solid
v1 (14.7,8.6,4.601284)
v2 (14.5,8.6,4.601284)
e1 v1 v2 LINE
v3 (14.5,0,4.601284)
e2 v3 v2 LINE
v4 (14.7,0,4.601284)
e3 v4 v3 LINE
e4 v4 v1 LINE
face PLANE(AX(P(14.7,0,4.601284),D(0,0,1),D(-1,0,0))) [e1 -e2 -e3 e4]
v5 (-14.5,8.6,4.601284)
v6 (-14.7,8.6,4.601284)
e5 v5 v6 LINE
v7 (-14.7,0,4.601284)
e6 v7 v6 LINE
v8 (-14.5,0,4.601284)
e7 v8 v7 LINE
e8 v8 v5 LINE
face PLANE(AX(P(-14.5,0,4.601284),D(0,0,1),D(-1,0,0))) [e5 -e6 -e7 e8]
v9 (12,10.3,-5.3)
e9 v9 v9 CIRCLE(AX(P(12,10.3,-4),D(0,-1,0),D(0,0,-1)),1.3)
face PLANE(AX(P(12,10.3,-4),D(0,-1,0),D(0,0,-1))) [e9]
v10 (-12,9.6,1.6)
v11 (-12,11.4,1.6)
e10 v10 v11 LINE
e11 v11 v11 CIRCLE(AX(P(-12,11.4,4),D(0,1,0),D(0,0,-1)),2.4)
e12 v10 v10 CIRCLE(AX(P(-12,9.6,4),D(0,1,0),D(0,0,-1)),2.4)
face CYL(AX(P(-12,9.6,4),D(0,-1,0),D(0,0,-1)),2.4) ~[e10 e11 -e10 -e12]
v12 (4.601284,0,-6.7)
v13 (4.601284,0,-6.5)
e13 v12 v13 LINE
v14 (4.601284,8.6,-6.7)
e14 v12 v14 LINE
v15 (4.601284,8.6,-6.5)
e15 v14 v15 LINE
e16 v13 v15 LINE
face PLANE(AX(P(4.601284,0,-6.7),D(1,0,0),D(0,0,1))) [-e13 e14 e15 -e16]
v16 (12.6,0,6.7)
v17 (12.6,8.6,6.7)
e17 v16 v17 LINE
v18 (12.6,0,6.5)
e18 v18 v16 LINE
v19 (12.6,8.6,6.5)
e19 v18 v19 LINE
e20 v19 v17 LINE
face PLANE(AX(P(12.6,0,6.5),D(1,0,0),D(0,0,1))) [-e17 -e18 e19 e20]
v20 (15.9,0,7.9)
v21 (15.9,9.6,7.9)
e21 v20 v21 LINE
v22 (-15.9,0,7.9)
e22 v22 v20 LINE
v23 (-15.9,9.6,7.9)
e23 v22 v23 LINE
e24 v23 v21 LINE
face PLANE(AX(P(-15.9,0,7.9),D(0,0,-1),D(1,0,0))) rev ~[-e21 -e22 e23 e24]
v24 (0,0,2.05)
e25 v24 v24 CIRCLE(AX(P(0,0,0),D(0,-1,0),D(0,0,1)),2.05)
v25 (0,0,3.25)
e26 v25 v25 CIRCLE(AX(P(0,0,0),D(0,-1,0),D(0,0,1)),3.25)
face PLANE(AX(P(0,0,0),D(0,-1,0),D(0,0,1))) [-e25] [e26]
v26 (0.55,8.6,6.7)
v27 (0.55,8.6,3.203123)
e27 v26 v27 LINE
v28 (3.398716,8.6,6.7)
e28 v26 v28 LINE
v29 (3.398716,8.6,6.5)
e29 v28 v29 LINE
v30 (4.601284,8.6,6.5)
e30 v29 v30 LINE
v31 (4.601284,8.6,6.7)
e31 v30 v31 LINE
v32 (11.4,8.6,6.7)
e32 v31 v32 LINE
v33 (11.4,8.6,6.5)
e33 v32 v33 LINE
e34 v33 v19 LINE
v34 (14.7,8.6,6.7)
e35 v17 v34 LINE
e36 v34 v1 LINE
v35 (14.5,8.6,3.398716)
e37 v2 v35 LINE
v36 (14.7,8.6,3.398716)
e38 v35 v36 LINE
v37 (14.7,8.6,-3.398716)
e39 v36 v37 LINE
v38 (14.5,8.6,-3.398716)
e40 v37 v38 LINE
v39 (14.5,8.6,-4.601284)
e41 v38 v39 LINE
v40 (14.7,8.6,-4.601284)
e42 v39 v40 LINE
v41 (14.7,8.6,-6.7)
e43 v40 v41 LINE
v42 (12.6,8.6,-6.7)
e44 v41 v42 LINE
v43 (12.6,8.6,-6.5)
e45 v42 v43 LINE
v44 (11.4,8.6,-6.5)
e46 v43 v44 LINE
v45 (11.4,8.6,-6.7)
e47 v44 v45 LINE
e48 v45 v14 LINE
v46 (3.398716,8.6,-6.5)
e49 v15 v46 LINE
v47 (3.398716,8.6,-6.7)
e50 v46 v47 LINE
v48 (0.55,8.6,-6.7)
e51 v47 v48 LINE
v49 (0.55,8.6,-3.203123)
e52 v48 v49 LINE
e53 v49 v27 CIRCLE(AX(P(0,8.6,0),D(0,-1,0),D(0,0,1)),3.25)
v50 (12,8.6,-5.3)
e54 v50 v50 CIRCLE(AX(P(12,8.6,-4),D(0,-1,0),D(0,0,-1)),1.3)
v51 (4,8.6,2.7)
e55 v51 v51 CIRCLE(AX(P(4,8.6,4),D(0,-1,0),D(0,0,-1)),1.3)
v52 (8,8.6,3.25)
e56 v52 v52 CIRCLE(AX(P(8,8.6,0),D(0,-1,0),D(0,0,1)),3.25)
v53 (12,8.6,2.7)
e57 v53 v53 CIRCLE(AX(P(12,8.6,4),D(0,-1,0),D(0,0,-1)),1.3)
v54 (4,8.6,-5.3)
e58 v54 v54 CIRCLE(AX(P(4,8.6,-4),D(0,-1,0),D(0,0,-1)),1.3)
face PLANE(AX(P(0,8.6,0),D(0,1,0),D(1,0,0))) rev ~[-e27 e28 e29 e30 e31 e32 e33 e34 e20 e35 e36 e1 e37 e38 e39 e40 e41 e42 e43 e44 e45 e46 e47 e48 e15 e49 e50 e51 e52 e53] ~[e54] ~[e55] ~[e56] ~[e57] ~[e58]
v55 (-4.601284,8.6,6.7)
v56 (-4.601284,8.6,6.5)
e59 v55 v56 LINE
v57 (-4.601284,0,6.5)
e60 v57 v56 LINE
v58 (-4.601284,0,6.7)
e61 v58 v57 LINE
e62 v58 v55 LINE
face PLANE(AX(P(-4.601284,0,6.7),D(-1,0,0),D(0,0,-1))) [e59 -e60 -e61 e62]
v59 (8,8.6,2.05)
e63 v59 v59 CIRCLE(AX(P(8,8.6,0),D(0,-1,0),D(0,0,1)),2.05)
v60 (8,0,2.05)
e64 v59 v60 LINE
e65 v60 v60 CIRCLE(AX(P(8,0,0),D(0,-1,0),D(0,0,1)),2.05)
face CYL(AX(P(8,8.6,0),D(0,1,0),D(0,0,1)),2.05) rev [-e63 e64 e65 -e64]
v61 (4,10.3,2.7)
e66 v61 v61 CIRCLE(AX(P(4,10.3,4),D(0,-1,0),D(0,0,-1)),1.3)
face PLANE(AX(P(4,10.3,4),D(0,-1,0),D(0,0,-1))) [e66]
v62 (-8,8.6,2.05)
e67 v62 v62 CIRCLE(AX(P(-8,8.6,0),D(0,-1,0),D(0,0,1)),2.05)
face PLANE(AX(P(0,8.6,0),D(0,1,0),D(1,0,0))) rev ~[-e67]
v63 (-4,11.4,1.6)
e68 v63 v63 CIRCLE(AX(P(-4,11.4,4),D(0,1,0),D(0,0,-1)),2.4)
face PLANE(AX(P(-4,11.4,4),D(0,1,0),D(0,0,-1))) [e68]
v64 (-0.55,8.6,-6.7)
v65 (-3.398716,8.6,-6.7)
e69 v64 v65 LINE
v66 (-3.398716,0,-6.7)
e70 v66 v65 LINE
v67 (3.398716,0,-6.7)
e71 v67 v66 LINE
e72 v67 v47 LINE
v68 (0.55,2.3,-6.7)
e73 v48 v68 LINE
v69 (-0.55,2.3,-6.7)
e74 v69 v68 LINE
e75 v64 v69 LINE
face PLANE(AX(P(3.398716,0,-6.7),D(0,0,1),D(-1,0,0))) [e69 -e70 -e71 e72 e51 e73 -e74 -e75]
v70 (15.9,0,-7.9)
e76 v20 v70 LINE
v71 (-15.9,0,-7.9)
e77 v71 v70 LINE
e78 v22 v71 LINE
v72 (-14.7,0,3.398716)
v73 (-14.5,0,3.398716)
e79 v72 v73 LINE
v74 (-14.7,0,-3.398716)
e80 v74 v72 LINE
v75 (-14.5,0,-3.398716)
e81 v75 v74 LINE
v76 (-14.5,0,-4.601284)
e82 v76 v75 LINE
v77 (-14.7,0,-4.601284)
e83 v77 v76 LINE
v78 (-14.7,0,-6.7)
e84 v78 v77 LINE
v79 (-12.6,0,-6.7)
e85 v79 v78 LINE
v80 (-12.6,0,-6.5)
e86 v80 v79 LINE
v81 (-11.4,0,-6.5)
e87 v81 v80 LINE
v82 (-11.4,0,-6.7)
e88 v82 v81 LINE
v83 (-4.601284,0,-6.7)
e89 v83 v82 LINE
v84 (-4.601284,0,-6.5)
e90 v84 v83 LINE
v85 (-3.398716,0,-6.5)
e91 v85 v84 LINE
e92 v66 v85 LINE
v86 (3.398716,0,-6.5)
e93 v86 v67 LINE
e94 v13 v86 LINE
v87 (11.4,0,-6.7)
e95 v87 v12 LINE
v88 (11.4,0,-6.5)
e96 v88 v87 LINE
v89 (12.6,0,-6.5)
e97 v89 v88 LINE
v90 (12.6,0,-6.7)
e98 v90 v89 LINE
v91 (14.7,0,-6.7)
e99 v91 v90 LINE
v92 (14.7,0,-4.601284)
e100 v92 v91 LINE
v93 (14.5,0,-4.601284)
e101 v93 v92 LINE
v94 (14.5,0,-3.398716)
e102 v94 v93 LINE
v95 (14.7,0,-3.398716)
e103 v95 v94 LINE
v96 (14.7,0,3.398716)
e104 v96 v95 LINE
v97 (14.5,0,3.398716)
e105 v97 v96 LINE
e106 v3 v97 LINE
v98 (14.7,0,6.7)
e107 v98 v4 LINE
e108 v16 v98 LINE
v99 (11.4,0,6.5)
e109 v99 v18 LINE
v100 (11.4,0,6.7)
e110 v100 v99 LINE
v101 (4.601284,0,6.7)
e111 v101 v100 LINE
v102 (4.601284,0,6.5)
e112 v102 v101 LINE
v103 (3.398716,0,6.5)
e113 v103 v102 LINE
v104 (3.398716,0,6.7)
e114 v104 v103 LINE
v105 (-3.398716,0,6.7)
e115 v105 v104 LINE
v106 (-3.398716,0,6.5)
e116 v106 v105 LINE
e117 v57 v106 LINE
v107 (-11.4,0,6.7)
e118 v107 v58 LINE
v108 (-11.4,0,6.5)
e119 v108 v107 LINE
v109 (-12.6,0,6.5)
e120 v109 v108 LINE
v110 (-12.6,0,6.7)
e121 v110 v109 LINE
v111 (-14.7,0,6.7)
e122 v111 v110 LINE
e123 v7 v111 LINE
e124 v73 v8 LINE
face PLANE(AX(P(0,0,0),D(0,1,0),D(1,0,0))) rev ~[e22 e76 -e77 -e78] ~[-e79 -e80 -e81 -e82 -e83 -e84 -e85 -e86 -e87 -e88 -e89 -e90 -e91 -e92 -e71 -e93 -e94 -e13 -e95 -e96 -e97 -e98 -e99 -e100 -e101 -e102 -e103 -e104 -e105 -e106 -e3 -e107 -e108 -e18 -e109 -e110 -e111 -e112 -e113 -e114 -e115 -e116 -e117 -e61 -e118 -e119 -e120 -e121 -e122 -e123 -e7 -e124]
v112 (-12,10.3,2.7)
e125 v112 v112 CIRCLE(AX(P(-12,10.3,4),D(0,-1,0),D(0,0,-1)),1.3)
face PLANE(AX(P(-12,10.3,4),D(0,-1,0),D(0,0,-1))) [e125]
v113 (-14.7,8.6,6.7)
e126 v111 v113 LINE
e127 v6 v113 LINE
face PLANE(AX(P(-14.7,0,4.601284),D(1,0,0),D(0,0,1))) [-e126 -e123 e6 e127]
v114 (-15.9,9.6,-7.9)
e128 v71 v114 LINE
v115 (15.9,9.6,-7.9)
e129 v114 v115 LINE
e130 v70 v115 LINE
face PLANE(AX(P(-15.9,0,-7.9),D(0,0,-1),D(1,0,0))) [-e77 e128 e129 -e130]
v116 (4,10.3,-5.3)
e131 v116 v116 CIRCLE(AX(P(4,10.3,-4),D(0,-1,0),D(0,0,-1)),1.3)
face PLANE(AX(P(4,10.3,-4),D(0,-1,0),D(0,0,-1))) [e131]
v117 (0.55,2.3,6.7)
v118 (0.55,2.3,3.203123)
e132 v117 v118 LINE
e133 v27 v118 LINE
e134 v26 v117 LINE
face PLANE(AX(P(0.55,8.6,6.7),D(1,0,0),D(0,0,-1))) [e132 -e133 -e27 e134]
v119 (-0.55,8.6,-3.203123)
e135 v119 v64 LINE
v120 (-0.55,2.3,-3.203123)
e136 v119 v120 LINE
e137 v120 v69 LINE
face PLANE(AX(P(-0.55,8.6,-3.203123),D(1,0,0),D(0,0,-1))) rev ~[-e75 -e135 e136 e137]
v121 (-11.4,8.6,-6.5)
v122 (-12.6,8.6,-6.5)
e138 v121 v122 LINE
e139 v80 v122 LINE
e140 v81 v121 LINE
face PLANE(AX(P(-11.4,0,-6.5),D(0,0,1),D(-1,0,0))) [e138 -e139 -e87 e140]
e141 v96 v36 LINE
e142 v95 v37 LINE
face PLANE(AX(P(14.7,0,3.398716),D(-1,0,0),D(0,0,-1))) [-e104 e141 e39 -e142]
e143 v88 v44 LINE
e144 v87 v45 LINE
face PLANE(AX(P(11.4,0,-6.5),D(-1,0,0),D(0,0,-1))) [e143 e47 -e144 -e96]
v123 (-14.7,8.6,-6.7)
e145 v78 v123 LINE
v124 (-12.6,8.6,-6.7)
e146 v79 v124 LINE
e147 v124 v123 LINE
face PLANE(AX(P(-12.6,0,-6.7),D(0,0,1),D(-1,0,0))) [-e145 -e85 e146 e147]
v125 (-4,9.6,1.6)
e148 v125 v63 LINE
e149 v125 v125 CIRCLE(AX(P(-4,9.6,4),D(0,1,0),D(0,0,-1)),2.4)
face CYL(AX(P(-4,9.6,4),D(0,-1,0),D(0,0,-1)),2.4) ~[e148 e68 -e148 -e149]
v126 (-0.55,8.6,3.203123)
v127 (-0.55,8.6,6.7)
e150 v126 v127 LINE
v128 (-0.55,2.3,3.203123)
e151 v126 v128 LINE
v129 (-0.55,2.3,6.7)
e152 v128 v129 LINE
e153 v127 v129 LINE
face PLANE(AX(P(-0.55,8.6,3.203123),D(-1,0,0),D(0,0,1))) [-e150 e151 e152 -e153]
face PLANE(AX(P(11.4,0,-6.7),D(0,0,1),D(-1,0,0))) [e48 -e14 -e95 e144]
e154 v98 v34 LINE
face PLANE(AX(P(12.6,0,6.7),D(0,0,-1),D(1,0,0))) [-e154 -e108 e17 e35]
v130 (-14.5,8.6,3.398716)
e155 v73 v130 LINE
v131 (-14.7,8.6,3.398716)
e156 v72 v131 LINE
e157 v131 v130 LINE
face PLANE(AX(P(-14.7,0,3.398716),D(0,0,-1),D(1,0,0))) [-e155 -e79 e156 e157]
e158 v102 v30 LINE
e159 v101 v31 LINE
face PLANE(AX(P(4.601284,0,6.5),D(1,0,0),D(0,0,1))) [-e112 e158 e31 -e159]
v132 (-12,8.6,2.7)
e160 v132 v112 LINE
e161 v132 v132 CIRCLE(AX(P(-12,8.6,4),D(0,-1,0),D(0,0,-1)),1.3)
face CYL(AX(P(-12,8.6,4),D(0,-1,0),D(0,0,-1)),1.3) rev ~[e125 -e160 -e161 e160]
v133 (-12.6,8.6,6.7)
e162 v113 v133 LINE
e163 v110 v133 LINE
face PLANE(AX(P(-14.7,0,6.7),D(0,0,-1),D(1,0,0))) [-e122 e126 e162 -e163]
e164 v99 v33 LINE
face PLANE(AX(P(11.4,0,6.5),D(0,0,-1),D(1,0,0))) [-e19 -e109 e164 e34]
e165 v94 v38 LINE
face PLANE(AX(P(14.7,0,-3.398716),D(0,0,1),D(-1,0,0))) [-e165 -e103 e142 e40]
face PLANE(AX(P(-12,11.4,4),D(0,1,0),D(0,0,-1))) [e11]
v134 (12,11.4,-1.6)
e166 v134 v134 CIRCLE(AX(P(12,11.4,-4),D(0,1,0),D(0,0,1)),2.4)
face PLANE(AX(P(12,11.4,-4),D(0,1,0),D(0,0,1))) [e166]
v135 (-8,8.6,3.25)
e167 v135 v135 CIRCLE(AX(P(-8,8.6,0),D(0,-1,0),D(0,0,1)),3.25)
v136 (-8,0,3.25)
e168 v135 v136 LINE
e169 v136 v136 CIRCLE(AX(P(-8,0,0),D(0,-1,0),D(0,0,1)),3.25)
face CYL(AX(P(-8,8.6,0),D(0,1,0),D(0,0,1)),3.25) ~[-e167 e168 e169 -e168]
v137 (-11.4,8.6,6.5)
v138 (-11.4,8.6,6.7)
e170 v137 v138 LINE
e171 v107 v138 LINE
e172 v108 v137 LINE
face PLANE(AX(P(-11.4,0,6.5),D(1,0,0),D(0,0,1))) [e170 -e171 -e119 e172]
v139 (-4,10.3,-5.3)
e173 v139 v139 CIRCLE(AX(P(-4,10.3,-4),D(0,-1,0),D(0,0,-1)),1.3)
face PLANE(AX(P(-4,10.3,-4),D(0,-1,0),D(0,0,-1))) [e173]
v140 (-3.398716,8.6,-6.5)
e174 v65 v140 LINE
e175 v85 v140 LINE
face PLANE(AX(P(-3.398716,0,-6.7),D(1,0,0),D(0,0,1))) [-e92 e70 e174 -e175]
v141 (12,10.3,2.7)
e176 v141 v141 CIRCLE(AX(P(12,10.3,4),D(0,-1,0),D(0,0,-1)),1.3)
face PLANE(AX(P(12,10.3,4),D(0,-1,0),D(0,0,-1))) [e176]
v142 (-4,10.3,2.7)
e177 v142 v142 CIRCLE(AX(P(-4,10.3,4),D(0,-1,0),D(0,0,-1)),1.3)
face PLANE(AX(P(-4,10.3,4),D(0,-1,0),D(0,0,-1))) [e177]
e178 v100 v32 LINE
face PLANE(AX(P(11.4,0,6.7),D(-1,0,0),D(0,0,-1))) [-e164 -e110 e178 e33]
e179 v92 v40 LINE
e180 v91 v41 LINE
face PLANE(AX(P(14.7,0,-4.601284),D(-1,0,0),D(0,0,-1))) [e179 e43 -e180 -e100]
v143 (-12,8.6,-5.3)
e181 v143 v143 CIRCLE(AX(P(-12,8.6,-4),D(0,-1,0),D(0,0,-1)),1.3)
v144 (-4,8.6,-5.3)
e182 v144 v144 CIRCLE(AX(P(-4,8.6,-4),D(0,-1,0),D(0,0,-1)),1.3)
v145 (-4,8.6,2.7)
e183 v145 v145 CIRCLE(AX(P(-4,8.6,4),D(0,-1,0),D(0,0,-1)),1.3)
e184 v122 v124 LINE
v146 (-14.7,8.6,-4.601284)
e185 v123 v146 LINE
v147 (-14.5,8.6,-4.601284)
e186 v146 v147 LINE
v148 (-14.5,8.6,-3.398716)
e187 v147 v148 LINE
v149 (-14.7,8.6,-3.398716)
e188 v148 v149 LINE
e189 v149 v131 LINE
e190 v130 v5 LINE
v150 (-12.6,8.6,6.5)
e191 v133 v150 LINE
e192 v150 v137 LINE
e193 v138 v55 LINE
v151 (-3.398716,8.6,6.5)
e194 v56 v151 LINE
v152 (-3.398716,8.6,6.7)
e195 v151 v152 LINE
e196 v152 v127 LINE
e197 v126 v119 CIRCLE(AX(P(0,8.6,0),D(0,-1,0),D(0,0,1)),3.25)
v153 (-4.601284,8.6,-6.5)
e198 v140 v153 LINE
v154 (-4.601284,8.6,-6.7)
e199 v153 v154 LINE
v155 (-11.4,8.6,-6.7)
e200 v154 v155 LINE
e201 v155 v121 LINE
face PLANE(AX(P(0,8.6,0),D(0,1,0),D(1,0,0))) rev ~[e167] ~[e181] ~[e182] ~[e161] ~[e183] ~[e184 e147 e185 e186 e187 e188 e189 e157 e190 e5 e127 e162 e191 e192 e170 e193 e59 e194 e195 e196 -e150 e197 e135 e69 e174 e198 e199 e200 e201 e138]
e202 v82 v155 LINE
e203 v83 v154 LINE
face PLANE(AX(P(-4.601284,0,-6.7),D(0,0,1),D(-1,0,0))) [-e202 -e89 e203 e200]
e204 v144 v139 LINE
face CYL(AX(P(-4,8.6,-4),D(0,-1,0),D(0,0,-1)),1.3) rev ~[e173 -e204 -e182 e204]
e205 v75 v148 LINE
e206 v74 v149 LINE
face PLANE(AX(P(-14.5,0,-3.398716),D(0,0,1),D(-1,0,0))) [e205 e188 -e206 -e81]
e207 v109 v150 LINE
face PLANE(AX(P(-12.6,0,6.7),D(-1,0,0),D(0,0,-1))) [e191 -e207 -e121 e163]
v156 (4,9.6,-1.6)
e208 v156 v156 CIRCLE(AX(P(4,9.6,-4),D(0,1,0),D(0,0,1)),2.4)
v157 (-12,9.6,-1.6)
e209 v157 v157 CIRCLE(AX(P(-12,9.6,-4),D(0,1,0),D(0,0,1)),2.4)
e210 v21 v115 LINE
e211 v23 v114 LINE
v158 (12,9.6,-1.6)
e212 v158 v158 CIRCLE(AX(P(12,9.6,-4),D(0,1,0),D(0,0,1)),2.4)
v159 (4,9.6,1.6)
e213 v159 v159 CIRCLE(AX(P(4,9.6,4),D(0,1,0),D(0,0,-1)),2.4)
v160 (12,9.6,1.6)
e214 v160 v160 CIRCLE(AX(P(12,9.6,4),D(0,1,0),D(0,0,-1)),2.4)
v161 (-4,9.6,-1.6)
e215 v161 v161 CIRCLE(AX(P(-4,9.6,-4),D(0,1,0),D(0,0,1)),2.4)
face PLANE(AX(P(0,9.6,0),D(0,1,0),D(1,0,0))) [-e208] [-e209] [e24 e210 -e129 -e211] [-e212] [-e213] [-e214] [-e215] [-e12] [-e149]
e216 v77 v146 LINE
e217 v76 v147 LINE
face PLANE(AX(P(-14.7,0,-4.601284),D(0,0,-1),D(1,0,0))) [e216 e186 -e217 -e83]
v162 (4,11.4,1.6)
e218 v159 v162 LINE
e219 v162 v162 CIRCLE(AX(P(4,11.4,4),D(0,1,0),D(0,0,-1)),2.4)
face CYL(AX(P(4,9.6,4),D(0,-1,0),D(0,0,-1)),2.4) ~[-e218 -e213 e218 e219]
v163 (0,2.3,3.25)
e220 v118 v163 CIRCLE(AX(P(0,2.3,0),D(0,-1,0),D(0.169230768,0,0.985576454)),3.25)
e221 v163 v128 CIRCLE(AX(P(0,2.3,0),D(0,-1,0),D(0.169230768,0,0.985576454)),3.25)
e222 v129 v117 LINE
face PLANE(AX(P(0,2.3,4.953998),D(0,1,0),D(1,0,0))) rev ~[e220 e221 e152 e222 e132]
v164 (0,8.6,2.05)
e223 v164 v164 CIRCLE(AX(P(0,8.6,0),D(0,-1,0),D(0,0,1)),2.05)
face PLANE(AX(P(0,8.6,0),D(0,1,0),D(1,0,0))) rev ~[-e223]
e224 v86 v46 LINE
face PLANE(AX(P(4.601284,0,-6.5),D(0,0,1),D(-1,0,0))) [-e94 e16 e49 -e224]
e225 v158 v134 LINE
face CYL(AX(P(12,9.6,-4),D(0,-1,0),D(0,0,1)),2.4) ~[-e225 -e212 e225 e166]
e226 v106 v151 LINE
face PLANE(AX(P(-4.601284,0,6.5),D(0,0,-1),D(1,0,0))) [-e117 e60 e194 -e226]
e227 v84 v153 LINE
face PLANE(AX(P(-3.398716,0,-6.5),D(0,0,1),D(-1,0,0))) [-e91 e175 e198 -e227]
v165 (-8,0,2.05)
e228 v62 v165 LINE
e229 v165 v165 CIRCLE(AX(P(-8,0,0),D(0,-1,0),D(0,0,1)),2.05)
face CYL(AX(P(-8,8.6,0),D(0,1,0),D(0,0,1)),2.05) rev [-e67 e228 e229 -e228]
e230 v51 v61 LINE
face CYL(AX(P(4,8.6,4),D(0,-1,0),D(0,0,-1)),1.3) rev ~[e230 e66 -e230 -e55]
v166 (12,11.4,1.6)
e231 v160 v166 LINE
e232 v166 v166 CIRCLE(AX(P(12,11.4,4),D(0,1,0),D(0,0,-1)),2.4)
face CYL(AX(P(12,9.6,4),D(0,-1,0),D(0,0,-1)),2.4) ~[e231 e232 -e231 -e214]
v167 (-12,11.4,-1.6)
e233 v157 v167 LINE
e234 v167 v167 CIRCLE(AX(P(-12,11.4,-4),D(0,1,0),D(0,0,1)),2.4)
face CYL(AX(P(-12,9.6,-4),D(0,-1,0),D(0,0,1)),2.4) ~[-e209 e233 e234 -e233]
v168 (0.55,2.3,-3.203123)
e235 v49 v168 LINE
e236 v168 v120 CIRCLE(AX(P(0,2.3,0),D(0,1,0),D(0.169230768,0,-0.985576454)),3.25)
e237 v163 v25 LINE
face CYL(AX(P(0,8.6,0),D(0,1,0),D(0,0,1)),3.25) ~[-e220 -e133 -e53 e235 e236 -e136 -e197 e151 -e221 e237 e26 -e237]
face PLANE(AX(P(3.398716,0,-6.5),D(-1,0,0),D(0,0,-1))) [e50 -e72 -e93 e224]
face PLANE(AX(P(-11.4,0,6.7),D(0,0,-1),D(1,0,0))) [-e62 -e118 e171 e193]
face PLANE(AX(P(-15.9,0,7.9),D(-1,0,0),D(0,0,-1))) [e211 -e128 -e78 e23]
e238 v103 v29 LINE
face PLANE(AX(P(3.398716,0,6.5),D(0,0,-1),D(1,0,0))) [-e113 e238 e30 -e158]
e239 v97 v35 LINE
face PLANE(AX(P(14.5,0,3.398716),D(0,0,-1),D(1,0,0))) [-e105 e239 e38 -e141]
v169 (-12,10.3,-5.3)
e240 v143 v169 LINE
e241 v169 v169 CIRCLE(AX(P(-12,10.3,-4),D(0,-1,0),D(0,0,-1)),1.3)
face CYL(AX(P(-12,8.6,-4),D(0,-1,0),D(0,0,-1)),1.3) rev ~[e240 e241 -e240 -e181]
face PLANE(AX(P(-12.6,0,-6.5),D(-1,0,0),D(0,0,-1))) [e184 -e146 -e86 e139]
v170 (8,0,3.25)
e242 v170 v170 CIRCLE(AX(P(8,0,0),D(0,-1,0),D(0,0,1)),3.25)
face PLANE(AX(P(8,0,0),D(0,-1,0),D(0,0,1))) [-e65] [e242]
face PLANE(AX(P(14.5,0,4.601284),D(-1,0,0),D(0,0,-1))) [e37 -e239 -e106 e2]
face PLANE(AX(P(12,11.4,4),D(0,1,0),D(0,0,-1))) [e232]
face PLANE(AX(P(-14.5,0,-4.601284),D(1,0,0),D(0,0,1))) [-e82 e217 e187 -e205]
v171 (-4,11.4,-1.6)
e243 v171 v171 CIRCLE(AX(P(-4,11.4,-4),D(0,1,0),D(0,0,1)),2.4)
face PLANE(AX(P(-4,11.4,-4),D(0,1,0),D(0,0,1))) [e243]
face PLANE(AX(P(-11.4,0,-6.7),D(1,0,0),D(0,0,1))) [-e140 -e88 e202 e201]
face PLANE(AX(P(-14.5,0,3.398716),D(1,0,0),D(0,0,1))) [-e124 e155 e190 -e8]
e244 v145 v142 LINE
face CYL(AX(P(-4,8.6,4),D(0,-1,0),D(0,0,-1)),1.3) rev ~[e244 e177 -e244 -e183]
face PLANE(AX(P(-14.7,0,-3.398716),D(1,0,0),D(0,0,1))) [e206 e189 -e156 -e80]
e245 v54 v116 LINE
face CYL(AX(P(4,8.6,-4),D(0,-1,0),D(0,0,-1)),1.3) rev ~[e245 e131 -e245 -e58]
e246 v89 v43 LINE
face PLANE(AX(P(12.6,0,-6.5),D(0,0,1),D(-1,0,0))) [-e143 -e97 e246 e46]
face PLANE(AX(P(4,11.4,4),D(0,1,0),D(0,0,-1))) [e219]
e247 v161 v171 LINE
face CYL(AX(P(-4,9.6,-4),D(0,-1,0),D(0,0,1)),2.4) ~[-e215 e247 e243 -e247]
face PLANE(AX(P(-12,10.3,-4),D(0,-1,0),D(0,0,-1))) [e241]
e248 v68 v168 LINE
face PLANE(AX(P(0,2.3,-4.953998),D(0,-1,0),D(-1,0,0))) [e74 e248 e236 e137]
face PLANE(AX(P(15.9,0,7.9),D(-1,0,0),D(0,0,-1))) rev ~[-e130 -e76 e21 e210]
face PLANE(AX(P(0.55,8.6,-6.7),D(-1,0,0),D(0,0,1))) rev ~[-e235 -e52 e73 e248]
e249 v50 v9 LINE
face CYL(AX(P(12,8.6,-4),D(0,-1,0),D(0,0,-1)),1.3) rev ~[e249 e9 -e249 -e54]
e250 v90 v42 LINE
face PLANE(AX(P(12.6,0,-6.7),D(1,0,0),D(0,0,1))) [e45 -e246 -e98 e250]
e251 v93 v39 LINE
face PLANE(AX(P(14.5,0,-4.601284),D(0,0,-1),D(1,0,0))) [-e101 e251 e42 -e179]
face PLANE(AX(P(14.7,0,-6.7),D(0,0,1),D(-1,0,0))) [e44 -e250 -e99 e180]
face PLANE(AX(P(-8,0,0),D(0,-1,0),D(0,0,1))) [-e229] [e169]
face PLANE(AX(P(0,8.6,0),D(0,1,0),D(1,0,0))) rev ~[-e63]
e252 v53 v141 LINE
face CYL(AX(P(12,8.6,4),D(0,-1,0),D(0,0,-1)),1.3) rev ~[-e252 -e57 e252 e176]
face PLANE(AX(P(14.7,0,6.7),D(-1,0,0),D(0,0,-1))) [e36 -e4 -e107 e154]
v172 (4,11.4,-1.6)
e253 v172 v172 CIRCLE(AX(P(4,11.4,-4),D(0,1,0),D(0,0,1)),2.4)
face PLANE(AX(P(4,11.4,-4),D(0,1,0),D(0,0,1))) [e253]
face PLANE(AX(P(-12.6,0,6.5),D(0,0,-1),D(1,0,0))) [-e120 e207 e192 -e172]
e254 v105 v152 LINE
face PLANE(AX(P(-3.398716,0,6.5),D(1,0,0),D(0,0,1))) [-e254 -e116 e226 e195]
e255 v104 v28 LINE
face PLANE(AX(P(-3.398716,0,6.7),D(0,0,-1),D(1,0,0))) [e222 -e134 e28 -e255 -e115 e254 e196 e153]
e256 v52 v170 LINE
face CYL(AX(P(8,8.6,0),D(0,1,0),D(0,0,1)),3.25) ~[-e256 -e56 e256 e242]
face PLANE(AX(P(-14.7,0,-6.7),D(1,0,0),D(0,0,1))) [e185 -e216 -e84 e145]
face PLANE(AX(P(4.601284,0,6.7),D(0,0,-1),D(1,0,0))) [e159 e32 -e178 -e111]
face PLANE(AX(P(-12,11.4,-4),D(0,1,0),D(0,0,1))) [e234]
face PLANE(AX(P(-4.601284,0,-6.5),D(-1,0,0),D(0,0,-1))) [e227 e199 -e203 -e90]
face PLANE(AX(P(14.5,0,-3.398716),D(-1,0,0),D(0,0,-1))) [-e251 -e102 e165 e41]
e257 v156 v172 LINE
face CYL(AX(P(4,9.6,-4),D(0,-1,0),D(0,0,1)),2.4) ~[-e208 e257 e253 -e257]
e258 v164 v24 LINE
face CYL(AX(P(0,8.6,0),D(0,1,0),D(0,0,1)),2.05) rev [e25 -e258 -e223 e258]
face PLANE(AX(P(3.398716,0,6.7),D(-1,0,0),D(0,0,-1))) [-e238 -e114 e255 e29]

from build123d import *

# Parameters (mm, degrees)
SKETCH1_W           = 31.8
SKETCH1_H           = 15.8
BOSS_EXTRUDE1_DEPTH = 9.6
SKETCH2_R           = 2.4
BOSS_EXTRUDE2_DEPTH = 1.8
CUT_EXTRUDE8_DEPTH  = 8.6
SKETCH5_R           = 1.3
CUT_EXTRUDE9_DEPTH  = 1.7
SKETCH6_R           = 3.25
SKETCH6_R_2         = 2.05
BOSS_EXTRUDE3_DEPTH = 8.6
BOSS_EXTRUDE4_DEPTH = 6.3


with BuildPart() as part:
    # Sketch1 → Boss-Extrude1 (new body)
    with BuildSketch(Plane(origin=(0, 0, 0), x_dir=(1, 0, 0), z_dir=(0, 1, 0))):
        Rectangle(SKETCH1_W, SKETCH1_H)
    extrude(amount=BOSS_EXTRUDE1_DEPTH)

    # Sketch2 → Boss-Extrude2 (add)
    with BuildSketch(Plane(origin=(0, 9.6, 0), x_dir=(1, 0, 0), z_dir=(0, 1, 0))):
        with Locations(Location((-4, 4, 0), (0, 0, 270))):
            Circle(SKETCH2_R)
        with Locations(Location((-12, 4, 0), (0, 0, 270))):
            Circle(SKETCH2_R)
        with Locations(Location((4, 4, 0), (0, 0, 270))):
            Circle(SKETCH2_R)
        with Locations(Location((12, 4, 0), (0, 0, 270))):
            Circle(SKETCH2_R)
        with Locations(Location((12, -4, 0), (0, 0, 90))):
            Circle(SKETCH2_R)
        with Locations(Location((4, -4, 0), (0, 0, 90))):
            Circle(SKETCH2_R)
        with Locations(Location((-4, -4, 0), (0, 0, 90))):
            Circle(SKETCH2_R)
        with Locations(Location((-12, -4, 0), (0, 0, 90))):
            Circle(SKETCH2_R)
    extrude(amount=BOSS_EXTRUDE2_DEPTH)

    # Sketch4 → Cut-Extrude8 (cut)
    with BuildSketch(Plane(origin=(0, 0, 0), x_dir=(-1, 0, 0), z_dir=(0, -1, 0))):
        Polygon((14.7, 3.398716226), (14.7, -3.398716226), (14.5, -3.398716226), (14.5, -4.601283774), (14.7, -4.601283774), (14.7, -6.7), (12.6, -6.7), (12.6, -6.5), (11.4, -6.5), (11.4, -6.7), (4.601283774, -6.7), (4.601283774, -6.5), (3.398716226, -6.5), (3.398716226, -6.7), (-3.398716226, -6.7), (-3.398716226, -6.5), (-4.601283774, -6.5), (-4.601283774, -6.7), (-11.4, -6.7), (-11.4, -6.5), (-12.6, -6.5), (-12.6, -6.7), (-14.7, -6.7), (-14.7, -4.601283774), (-14.5, -4.601283774), (-14.5, -3.398716226), (-14.7, -3.398716226), (-14.7, 3.398716226), (-14.5, 3.398716226), (-14.5, 4.601283774), (-14.7, 4.601283774), (-14.7, 6.7), (-12.6, 6.7), (-12.6, 6.5), (-11.4, 6.5), (-11.4, 6.7), (-4.601283774, 6.7), (-4.601283774, 6.5), (-3.398716226, 6.5), (-3.398716226, 6.7), (3.398716226, 6.7), (3.398716226, 6.5), (4.601283774, 6.5), (4.601283774, 6.7), (11.4, 6.7), (11.4, 6.5), (12.6, 6.5), (12.6, 6.7), (14.7, 6.7), (14.7, 4.601283774), (14.5, 4.601283774), (14.5, 3.398716226), align=None)
    extrude(amount=-CUT_EXTRUDE8_DEPTH, mode=Mode.SUBTRACT)

    # Sketch5 → Cut-Extrude9 (cut)
    with BuildSketch(Plane(origin=(0, 8.6, 0), x_dir=(-1, 0, 0), z_dir=(0, -1, 0))):
        with Locations(Location((12, -4, 0), (0, 0, 90))):
            Circle(SKETCH5_R)
        with Locations(Location((4, -4, 0), (0, 0, 90))):
            Circle(SKETCH5_R)
        with Locations(Location((-4, -4, 0), (0, 0, 90))):
            Circle(SKETCH5_R)
        with Locations(Location((-12, -4, 0), (0, 0, 90))):
            Circle(SKETCH5_R)
        with Locations(Location((4, 4, 0), (0, 0, 90))):
            Circle(SKETCH5_R)
        with Locations(Location((-4, 4, 0), (0, 0, 90))):
            Circle(SKETCH5_R)
        with Locations(Location((-12, 4, 0), (0, 0, 90))):
            Circle(SKETCH5_R)
        with Locations(Location((12, 4, 0), (0, 0, 90))):
            Circle(SKETCH5_R)
    extrude(amount=-CUT_EXTRUDE9_DEPTH, mode=Mode.SUBTRACT)

    # Sketch6 → Boss-Extrude3 (add)
    # profile 1 of 3: a face of its own
    with BuildSketch(Plane(origin=(0, 8.6, 0), x_dir=(-1, 0, 0), z_dir=(0, -1, 0))):
        with Locations(Location((0, 0, 0), (0, 0, 270))):
            Circle(SKETCH6_R)
        with Locations(Location((0, 0, 0), (0, 0, 270))):
            Circle(SKETCH6_R_2, mode=Mode.SUBTRACT)
    # profile 2 of 3: a face of its own
    with BuildSketch(Plane(origin=(0, 8.6, 0), x_dir=(-1, 0, 0), z_dir=(0, -1, 0))):
        with Locations(Location((8, 0, 0), (0, 0, 270))):
            Circle(SKETCH6_R)
        with Locations(Location((8, 0, 0), (0, 0, 270))):
            Circle(SKETCH6_R_2, mode=Mode.SUBTRACT)
    # profile 3 of 3: a face of its own
    with BuildSketch(Plane(origin=(0, 8.6, 0), x_dir=(-1, 0, 0), z_dir=(0, -1, 0))):
        with Locations(Location((-8, 0, 0), (0, 0, 270))):
            Circle(SKETCH6_R)
        with Locations(Location((-8, 0, 0), (0, 0, 270))):
            Circle(SKETCH6_R_2, mode=Mode.SUBTRACT)
    extrude(amount=BOSS_EXTRUDE3_DEPTH)

    # Sketch7 → Boss-Extrude4 (add)
    with BuildSketch(Plane(origin=(0, 8.6, 0), x_dir=(-1, 0, 0), z_dir=(0, -1, 0))):
        with BuildLine():
            Line((0.55, -3.203123476), (0.55, -6.7))
            Line((0.55, -6.7), (-0.55, -6.7))
            Line((-0.55, -6.7), (-0.55, -3.203123476))
            ThreePointArc((-0.55, -3.203123476), (0, -3.25), (0.55, -3.203123476))
        make_face()
        with BuildLine():
            Line((-0.55, 6.7), (-0.55, 3.203123476))
            ThreePointArc((-0.55, 3.203123476), (0, 3.25), (0.55, 3.203123476))
            Line((0.55, 3.203123476), (0.55, 6.7))
            Line((0.55, 6.7), (-0.55, 6.7))
        make_face()
    extrude(amount=BOSS_EXTRUDE4_DEPTH)


solid = part.part
